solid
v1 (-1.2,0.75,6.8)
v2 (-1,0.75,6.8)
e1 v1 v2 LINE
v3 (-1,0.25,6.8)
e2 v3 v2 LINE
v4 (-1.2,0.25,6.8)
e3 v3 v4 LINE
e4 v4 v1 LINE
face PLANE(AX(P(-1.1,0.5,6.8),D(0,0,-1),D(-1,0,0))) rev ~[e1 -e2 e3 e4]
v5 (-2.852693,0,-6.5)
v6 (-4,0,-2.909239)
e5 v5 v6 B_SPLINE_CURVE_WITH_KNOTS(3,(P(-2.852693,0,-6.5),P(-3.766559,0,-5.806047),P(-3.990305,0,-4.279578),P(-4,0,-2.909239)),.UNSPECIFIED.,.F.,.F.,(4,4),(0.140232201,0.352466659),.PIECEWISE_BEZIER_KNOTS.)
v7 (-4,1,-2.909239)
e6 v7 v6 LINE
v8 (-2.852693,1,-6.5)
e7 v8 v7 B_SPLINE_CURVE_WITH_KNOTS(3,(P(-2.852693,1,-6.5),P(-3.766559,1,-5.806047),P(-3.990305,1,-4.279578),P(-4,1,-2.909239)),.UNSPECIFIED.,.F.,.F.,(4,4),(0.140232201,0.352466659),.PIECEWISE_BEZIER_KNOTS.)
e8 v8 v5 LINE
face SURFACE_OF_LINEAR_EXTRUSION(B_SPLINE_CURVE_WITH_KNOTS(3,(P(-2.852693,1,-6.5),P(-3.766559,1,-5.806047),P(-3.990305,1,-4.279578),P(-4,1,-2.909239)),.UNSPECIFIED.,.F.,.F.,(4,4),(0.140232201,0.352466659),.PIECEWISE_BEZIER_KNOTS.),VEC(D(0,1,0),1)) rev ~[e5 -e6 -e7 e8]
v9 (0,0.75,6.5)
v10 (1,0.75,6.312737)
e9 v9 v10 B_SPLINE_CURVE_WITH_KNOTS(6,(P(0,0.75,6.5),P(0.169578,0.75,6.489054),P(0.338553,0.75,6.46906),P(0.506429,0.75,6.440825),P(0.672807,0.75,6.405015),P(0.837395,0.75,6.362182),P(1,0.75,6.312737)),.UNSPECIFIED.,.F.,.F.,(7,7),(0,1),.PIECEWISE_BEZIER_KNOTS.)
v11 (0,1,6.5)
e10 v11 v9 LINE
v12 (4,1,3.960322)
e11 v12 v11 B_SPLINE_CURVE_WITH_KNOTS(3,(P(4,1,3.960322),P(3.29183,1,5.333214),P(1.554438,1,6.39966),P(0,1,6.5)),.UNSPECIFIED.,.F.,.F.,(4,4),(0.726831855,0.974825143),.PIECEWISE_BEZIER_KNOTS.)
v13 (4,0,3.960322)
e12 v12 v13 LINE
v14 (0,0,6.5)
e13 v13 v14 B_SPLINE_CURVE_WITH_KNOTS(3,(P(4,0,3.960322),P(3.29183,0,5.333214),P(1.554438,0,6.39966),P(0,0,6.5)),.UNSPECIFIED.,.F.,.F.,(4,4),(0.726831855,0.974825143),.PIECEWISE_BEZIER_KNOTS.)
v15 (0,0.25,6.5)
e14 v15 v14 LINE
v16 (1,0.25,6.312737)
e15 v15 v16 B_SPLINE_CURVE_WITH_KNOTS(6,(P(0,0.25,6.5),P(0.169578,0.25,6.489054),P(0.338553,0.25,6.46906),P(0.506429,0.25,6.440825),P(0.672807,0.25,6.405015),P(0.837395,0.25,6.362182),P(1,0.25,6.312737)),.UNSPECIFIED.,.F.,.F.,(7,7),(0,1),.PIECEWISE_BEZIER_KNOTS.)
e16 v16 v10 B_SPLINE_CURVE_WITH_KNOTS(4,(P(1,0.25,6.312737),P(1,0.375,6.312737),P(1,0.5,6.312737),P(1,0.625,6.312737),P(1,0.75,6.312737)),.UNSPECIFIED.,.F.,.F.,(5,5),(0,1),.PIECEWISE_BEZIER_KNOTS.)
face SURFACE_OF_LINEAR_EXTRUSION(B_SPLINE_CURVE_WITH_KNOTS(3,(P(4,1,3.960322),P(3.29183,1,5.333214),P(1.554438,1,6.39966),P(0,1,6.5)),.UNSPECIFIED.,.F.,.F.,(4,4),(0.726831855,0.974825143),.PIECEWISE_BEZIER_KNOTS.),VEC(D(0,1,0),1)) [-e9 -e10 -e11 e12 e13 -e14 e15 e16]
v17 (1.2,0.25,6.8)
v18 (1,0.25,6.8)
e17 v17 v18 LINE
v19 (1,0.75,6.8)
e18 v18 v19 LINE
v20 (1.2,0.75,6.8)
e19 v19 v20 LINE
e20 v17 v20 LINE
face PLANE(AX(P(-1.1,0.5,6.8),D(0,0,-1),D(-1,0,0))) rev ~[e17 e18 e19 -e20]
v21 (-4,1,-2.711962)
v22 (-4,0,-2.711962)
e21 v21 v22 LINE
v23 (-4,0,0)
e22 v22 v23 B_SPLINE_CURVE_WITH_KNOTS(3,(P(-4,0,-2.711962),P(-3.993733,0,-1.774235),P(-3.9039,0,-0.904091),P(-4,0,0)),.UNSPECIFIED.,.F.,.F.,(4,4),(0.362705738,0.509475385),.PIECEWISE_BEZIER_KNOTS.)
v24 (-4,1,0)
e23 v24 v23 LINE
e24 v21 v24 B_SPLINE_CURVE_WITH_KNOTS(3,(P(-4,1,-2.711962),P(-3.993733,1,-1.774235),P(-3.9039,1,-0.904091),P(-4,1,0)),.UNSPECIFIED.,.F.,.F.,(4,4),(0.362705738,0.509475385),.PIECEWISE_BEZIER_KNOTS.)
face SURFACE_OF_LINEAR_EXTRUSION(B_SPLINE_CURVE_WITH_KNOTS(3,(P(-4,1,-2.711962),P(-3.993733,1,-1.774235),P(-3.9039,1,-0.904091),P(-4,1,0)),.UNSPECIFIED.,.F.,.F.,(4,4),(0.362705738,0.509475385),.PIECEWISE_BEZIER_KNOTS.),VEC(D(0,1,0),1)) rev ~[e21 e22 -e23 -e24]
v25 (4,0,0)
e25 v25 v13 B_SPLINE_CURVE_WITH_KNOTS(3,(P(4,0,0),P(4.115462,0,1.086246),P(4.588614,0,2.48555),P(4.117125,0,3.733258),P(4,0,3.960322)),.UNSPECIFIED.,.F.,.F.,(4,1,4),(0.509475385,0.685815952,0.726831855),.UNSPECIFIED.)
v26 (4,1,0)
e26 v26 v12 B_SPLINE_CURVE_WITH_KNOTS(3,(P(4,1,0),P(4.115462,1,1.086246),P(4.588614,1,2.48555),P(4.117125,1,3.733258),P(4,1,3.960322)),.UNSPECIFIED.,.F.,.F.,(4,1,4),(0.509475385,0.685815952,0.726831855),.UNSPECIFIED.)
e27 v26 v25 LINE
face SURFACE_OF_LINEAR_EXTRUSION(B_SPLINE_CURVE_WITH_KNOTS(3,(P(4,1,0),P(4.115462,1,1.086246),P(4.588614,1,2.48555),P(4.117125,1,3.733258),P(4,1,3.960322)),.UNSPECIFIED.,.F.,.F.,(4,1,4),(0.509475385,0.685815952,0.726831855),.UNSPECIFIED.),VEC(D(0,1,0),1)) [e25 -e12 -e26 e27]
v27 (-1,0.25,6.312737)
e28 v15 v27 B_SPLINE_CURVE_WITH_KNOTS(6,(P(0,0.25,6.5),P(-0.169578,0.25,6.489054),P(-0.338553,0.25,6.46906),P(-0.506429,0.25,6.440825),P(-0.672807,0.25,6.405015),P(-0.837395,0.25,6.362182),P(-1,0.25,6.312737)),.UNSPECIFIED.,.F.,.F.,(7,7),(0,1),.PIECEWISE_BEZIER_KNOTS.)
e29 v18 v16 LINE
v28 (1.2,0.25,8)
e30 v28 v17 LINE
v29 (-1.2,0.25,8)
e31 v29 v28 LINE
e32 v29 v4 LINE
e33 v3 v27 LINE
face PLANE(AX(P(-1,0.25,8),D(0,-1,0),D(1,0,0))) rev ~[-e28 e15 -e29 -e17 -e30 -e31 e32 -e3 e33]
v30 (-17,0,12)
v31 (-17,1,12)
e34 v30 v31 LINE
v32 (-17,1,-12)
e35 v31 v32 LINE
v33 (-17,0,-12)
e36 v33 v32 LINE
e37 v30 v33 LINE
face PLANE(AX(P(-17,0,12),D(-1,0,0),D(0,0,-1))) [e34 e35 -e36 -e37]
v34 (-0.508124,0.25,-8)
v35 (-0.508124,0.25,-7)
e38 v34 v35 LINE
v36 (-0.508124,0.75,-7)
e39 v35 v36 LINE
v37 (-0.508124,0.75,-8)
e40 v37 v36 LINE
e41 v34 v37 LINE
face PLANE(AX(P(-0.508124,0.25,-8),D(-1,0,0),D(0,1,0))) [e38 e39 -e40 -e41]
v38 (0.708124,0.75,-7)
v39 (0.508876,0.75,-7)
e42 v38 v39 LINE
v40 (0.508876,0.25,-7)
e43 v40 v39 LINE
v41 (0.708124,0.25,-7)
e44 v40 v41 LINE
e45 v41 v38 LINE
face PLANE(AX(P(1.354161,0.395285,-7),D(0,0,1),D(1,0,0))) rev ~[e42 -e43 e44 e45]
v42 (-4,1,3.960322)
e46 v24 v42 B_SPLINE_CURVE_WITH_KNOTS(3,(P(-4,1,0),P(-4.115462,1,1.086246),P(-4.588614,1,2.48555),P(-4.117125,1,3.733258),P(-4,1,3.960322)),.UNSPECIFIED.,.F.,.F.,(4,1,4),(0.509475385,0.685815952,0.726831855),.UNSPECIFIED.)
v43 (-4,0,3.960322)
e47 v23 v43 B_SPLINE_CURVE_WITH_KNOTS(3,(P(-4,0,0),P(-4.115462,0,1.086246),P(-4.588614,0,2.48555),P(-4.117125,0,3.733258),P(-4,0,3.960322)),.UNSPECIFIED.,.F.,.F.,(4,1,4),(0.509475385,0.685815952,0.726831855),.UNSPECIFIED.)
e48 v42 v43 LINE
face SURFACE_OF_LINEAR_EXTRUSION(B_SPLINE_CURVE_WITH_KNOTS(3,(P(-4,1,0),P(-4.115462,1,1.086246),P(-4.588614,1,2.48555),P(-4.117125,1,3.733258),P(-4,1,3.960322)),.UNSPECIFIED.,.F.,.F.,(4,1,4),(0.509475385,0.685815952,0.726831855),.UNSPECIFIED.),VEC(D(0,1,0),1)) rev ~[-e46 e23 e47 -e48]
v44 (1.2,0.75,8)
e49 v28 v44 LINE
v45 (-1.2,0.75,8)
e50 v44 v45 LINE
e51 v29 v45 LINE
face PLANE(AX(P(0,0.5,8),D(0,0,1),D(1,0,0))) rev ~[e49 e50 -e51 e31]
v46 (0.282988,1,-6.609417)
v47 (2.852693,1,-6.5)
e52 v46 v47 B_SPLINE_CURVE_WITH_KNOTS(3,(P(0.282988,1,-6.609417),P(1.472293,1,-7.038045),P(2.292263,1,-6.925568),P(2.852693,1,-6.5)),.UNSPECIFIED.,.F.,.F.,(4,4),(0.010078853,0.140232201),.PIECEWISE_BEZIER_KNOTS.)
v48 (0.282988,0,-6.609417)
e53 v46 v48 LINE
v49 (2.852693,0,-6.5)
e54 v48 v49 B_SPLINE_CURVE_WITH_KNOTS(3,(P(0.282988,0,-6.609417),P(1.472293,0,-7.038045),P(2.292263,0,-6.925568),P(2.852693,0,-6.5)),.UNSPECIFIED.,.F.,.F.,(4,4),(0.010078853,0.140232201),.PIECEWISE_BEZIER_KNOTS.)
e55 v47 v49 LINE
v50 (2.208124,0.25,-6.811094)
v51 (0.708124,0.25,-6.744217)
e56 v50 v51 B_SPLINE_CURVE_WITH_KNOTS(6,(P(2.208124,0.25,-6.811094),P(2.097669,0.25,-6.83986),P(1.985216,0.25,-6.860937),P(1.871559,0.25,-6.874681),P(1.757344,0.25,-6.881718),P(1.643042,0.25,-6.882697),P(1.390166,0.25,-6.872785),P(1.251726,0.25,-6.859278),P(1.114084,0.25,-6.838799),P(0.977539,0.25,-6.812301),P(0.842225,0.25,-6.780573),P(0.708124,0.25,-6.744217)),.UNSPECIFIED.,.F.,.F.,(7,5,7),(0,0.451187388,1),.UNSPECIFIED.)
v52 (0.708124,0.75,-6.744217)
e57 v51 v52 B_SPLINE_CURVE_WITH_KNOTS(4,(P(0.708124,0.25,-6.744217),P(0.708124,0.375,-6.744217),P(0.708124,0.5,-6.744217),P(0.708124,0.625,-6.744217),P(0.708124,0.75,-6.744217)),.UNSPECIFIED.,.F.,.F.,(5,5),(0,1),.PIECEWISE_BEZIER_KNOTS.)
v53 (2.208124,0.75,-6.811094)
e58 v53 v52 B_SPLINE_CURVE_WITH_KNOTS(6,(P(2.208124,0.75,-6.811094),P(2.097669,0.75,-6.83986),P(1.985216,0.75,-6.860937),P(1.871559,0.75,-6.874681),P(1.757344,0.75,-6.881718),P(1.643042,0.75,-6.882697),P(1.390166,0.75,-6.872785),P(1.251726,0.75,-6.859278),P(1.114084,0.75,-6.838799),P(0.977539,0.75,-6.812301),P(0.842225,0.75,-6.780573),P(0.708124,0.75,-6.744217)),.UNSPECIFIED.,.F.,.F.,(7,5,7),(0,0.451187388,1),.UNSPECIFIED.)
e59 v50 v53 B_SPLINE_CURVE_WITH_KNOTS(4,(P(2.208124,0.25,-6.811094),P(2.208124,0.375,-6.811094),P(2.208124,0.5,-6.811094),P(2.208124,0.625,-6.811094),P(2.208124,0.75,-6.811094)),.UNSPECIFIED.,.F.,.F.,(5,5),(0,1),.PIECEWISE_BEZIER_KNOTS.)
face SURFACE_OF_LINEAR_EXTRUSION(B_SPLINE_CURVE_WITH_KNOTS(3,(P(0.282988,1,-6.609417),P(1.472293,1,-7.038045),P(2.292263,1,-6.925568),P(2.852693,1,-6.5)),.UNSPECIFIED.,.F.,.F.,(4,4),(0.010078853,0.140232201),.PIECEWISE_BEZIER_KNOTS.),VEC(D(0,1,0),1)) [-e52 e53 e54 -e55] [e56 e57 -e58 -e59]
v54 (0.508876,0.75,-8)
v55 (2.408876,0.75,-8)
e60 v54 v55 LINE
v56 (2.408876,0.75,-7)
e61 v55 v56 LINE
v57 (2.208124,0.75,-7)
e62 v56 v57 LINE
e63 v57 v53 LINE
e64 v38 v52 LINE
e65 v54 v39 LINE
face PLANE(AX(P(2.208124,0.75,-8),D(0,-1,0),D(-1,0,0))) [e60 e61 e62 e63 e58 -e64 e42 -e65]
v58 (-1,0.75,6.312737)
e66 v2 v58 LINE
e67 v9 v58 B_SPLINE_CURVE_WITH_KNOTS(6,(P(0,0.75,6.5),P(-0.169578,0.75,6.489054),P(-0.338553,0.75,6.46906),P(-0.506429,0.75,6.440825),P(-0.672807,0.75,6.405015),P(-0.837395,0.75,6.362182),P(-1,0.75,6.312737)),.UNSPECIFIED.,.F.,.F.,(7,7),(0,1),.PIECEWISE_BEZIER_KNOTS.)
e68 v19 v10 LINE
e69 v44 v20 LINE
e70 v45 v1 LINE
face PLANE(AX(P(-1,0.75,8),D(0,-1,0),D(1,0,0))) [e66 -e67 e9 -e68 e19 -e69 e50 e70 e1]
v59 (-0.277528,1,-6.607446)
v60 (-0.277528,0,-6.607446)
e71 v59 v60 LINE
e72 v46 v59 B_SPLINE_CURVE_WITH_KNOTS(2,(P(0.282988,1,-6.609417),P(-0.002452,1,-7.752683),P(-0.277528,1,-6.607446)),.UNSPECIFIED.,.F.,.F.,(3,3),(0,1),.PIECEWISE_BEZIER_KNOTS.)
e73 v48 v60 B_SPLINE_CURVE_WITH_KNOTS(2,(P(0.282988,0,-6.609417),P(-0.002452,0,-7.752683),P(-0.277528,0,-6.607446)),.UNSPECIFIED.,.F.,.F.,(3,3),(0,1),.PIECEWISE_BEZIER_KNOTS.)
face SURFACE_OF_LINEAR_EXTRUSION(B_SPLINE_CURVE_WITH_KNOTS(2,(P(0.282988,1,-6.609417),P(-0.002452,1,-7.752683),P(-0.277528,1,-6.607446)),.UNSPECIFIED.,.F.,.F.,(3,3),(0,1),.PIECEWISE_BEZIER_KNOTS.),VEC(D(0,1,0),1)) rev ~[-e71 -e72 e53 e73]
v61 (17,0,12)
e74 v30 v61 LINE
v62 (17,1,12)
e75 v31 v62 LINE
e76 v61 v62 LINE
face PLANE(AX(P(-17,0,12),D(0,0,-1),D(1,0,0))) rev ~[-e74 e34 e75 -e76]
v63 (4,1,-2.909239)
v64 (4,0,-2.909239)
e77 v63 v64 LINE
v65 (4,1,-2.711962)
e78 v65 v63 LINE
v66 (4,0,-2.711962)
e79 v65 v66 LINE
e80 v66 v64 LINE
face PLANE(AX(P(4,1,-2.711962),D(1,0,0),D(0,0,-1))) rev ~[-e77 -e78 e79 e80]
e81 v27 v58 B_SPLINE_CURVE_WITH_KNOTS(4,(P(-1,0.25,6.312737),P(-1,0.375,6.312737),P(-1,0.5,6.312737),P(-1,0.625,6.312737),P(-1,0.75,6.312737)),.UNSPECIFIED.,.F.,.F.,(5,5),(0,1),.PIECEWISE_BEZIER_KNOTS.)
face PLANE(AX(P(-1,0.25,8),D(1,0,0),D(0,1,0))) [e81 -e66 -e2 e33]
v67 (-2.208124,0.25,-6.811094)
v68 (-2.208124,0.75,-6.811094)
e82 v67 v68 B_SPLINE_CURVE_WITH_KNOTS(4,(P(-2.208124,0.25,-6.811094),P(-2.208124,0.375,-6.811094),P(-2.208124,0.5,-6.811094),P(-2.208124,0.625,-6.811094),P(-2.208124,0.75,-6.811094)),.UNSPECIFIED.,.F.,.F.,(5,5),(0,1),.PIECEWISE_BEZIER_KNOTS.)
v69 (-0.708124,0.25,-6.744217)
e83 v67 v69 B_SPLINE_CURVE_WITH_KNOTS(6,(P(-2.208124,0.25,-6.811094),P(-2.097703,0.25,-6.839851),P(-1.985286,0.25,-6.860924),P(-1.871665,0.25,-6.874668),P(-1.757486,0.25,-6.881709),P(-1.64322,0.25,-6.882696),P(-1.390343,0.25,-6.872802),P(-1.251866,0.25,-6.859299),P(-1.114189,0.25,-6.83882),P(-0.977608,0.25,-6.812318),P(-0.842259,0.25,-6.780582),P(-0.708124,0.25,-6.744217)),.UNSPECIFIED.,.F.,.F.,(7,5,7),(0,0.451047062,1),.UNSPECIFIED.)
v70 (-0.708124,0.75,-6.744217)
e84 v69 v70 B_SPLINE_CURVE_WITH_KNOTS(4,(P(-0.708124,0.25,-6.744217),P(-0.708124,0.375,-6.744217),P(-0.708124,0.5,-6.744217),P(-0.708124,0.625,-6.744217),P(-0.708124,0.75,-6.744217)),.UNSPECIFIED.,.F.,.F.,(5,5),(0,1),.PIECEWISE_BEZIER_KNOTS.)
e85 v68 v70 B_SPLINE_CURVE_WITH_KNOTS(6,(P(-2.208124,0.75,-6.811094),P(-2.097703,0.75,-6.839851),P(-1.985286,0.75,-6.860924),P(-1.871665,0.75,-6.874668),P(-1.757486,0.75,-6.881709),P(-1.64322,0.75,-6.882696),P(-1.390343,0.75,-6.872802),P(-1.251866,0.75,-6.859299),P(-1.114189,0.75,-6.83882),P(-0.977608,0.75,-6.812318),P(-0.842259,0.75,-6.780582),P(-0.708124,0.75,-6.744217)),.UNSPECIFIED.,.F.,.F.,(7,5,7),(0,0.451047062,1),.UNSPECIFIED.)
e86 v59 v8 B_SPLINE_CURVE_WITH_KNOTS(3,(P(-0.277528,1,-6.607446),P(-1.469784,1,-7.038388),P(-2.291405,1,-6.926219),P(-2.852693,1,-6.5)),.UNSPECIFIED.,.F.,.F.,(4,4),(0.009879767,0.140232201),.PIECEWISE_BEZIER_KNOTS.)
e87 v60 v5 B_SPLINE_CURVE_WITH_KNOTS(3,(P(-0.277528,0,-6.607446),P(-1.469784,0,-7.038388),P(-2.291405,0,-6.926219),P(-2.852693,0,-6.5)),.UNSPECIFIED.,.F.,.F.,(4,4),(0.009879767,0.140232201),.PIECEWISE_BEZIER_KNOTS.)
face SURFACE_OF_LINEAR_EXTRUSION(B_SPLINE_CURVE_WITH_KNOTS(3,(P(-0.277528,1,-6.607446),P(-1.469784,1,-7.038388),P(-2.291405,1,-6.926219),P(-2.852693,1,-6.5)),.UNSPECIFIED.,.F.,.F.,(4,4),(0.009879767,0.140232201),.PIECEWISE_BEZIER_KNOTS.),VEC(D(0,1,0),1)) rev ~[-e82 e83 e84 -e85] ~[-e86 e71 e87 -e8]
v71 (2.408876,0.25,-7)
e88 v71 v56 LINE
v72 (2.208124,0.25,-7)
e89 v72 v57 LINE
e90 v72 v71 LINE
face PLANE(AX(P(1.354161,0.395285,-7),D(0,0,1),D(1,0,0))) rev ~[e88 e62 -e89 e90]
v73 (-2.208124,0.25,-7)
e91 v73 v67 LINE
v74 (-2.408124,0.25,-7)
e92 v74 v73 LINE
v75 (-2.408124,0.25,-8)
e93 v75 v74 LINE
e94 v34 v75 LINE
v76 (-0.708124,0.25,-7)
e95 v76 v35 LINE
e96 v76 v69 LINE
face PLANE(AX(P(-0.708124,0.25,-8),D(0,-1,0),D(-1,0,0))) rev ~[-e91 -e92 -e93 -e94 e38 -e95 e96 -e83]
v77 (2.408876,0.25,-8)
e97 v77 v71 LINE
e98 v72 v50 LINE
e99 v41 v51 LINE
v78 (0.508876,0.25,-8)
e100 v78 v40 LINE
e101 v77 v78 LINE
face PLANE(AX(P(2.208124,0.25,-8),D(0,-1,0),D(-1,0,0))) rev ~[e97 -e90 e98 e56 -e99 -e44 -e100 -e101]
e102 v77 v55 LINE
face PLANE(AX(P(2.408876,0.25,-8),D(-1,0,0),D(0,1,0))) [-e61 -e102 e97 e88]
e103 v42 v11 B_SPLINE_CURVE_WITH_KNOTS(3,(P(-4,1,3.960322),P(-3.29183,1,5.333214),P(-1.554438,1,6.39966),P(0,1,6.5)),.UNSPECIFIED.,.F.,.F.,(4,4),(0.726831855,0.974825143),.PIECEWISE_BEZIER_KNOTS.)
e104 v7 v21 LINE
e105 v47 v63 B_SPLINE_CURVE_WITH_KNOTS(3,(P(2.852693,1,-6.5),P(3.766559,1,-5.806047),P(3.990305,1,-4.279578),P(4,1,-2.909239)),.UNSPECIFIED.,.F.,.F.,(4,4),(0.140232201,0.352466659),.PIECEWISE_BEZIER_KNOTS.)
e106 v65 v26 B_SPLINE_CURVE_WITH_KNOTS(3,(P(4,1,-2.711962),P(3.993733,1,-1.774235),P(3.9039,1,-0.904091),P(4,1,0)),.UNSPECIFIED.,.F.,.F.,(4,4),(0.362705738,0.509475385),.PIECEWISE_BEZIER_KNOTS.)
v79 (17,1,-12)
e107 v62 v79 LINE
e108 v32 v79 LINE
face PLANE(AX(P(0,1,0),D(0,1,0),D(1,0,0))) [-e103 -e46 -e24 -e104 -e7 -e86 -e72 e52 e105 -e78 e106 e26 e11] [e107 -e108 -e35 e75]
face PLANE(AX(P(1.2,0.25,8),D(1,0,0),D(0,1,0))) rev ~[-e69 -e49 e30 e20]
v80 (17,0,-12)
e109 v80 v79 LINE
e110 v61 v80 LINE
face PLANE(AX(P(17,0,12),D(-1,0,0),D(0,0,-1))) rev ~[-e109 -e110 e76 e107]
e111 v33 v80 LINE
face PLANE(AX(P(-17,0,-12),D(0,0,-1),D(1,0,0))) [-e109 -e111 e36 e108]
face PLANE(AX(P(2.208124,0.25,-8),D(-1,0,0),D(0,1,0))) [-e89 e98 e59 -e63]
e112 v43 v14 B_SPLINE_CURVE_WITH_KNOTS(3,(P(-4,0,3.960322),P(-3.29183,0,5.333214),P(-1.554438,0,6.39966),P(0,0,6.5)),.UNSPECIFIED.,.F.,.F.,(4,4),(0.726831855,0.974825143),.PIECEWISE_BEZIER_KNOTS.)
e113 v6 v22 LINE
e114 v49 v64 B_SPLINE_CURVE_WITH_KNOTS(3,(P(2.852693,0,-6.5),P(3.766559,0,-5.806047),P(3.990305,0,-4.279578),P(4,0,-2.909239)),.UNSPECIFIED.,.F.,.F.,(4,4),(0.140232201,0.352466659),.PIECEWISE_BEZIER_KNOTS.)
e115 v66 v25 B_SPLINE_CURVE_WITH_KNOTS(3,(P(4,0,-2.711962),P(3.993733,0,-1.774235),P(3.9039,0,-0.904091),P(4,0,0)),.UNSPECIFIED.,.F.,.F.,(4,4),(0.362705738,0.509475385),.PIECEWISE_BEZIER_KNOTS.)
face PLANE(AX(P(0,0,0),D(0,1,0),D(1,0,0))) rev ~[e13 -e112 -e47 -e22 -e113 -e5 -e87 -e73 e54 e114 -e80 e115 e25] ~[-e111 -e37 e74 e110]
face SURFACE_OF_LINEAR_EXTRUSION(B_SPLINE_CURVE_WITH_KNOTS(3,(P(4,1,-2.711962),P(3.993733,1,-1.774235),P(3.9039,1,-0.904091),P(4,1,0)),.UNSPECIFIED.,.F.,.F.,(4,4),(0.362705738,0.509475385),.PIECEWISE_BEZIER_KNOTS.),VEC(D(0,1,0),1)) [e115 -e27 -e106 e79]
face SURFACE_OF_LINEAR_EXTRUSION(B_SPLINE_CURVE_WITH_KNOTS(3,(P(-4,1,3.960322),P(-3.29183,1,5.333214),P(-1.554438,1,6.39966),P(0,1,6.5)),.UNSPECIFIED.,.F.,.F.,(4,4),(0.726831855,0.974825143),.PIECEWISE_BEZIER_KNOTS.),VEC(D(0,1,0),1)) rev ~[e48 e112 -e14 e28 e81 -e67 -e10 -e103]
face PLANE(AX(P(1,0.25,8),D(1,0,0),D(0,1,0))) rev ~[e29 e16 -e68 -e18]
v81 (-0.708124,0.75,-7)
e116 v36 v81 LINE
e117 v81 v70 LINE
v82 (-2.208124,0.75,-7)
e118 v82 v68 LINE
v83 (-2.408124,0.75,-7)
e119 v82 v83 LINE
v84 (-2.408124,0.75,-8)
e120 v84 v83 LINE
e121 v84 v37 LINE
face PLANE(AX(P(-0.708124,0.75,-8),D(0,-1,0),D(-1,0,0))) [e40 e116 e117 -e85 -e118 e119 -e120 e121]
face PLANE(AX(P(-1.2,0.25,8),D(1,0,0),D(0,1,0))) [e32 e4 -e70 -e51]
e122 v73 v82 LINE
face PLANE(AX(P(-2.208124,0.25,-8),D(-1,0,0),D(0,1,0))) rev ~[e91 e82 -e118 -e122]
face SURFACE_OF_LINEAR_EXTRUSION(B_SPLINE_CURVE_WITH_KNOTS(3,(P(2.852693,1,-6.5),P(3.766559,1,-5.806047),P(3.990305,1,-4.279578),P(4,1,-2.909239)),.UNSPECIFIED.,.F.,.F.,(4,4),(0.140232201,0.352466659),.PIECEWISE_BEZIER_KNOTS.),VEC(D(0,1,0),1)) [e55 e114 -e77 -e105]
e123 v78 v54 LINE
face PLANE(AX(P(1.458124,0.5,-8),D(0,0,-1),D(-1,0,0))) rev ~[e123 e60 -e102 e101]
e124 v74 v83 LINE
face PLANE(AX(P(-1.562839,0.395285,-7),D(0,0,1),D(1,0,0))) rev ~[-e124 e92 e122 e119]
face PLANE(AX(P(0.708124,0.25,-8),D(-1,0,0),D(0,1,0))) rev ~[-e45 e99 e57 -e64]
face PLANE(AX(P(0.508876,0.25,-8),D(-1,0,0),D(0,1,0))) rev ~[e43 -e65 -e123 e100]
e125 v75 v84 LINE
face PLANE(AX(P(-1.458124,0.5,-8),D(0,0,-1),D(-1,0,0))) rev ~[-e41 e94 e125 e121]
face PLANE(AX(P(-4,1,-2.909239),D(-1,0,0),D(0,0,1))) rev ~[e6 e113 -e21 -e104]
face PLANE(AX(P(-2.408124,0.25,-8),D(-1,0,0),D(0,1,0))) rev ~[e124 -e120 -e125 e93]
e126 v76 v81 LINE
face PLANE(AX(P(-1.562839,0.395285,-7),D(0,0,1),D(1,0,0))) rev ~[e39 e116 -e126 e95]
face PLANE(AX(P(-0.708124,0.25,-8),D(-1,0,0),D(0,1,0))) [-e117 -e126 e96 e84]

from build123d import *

# Parameters (mm, degrees)
SKETCH_2_W             = 34
SKETCH_2_H             = 24
EXTRUDE_1_DEPTH        = 1
CUT_EXTRUDE_2_DEPTH    = 1
SKETCH_4_W             = 2
SKETCH_4_H             = 0.5
CUT_EXTRUDE_3_DEPTH    = 3
SKETCH_5_W             = 1.5
SKETCH_5_H             = 0.5
CUT_EXTRUDE_4_DEPTH    = 3
SKETCH_6_W             = 0.2
SKETCH_6_H             = 0.5
CUT_EXTRUDE_6_DEPTH    = 1.2
SKETCH_7_W             = 0.2
SKETCH_7_H             = 0.5
CUT_EXTRUDE_7_DEPTH    = 1
PATTERN_LINEAR_1_COUNT = 2
PATTERN_LINEAR_1_PITCH = 2.917


with BuildPart() as part:
    # 草图2 → 凸台-拉伸1 (new body)
    with BuildSketch(Plane(origin=(0, 0, 0), x_dir=(1, 0, 0), z_dir=(0, 1, 0))):
        Rectangle(SKETCH_2_W, SKETCH_2_H)
    extrude(amount=EXTRUDE_1_DEPTH)

    # 草图3 → 切除-拉伸2 (cut)
    with BuildSketch(Plane(origin=(0, 1, 0), x_dir=(1, 0, 0), z_dir=(0, 1, 0))):
        with BuildLine():
            Line((2.852693105, 6.5), (0, 6.5))
            Line((0, 6.5), (0, -6.5))
            add(Edge.make_bspline(
                [(4, -3.960322269), (3.291830105, -5.33321398), (1.554438327, -6.399660403), (0, -6.5)],
                knots=[0.726831855, 0.726831855, 0.726831855, 0.726831855, 0.974825143, 0.974825143, 0.974825143, 0.974825143], degree=3))
            Line((4, -3.960322269), (4, 0))
            add(Edge.make_bspline(
                [(4, 2.711962076), (3.993732983, 1.774234816), (3.903899915, 0.904091061), (4, 0)],
                knots=[0.362705738, 0.362705738, 0.362705738, 0.362705738, 0.509475385, 0.509475385, 0.509475385, 0.509475385], degree=3))
            Line((4, 2.711962076), (4, 2.909239089))
            add(Edge.make_bspline(
                [(2.852693105, 6.5), (3.766558676, 5.806047297), (3.99030544, 4.279578326), (4, 2.909239089)],
                knots=[0.140232201, 0.140232201, 0.140232201, 0.140232201, 0.352466659, 0.352466659, 0.352466659, 0.352466659], degree=3))
        make_face()
        with BuildLine():
            Line((0, -6.5), (0, 6.5))
            Line((0, 6.5), (-2.852693105, 6.5))
            add(Edge.make_bspline(
                [(-2.852693105, 6.5), (-3.766558676, 5.806047297), (-3.99030544, 4.279578326), (-4, 2.909239089)],
                knots=[0.140232201, 0.140232201, 0.140232201, 0.140232201, 0.352466659, 0.352466659, 0.352466659, 0.352466659], degree=3))
            Line((-4, 2.909239089), (-4, 2.711962076))
            add(Edge.make_bspline(
                [(-4, 2.711962076), (-3.993732983, 1.774234816), (-3.903899915, 0.904091061), (-4, 0)],
                knots=[0.362705738, 0.362705738, 0.362705738, 0.362705738, 0.509475385, 0.509475385, 0.509475385, 0.509475385], degree=3))
            Line((-4, 0), (-4, -3.960322269))
            add(Edge.make_bspline(
                [(-4, -3.960322269), (-3.291830105, -5.33321398), (-1.554438327, -6.399660403), (0, -6.5)],
                knots=[0.726831855, 0.726831855, 0.726831855, 0.726831855, 0.974825143, 0.974825143, 0.974825143, 0.974825143], degree=3))
        make_face()
        with BuildLine():
            add(Edge.make_bspline(
                [(0, 6.5), (0.096578276, 6.539787769), (0.190890779, 6.57622482), (0.282988495, 6.609417035)],
                knots=[0, 0, 0, 0, 0.010078853, 0.010078853, 0.010078853, 0.010078853], degree=3))
            Line((0, 6.5), (2.852693105, 6.5))
            add(Edge.make_bspline(
                [(0.282988495, 6.609417035), (1.47229303, 7.038044945), (2.292262606, 6.925568347), (2.852693105, 6.5)],
                knots=[0.010078853, 0.010078853, 0.010078853, 0.010078853, 0.140232201, 0.140232201, 0.140232201, 0.140232201], degree=3))
        make_face()
        with BuildLine():
            Line((-2.852693105, 6.5), (0, 6.5))
            add(Edge.make_bspline(
                [(0, 6.5), (-0.094670577, 6.539001846), (-0.187164009, 6.574784039), (-0.277528318, 6.60744631)],
                knots=[0, 0, 0, 0, 0.009879767, 0.009879767, 0.009879767, 0.009879767], degree=3))
            add(Edge.make_bspline(
                [(-0.277528318, 6.60744631), (-1.469783924, 7.038388308), (-2.291405355, 6.926219308), (-2.852693105, 6.5)],
                knots=[0.009879767, 0.009879767, 0.009879767, 0.009879767, 0.140232201, 0.140232201, 0.140232201, 0.140232201], degree=3))
        make_face()
        with BuildLine():
            add(Edge.make_bspline(
                [(0, 6.5), (-0.094670577, 6.539001846), (-0.187164009, 6.574784039), (-0.277528318, 6.60744631)],
                knots=[0, 0, 0, 0, 0.009879767, 0.009879767, 0.009879767, 0.009879767], degree=3))
            add(Edge.make_bspline(
                [(0, 6.5), (0.096578276, 6.539787769), (0.190890779, 6.57622482), (0.282988495, 6.609417035)],
                knots=[0, 0, 0, 0, 0.010078853, 0.010078853, 0.010078853, 0.010078853], degree=3))
            add(Edge.make_bspline(
                [(0.282988495, 6.609417035), (-0.002451987, 7.75268333), (-0.277528318, 6.60744631)],
                knots=[0, 0, 0, 1, 1, 1], degree=2))
        make_face()
        with BuildLine():
            add(Edge.make_bspline(
                [(-4, 0), (-4.115462181, -1.086245927), (-4.588613513, -2.485549912), (-4.117125058, -3.733258083), (-4, -3.960322269)],
                knots=[0.509475385, 0.509475385, 0.509475385, 0.509475385, 0.685815952, 0.726831855, 0.726831855, 0.726831855, 0.726831855], degree=3))
            Line((-4, -3.960322269), (-4, 0))
        make_face()
        with BuildLine():
            Line((4, 0), (4, -3.960322269))
            add(Edge.make_bspline(
                [(4, 0), (4.115462181, -1.086245927), (4.588613513, -2.485549912), (4.117125058, -3.733258083), (4, -3.960322269)],
                knots=[0.509475385, 0.509475385, 0.509475385, 0.509475385, 0.685815952, 0.726831855, 0.726831855, 0.726831855, 0.726831855], degree=3))
        make_face()
    extrude(amount=-CUT_EXTRUDE_2_DEPTH, mode=Mode.SUBTRACT)

    # 草图4 → 切除-拉伸3 (cut)
    with BuildSketch(Plane.XY.offset(8)):
        with Locations((0, 0.5)):
            Rectangle(SKETCH_4_W, SKETCH_4_H)
    extrude(amount=-CUT_EXTRUDE_3_DEPTH, mode=Mode.SUBTRACT)

    # 草图5 → 切除-拉伸4 (cut)
    with BuildSketch(Plane(origin=(0, 0, -8), x_dir=(-1, 0, 0), z_dir=(0, 0, -1))):
        with Locations((1.458123879, 0.5)):
            Rectangle(SKETCH_5_W, SKETCH_5_H)
        with Locations((-1.458123879, 0.5)):
            Rectangle(SKETCH_5_W, SKETCH_5_H)
    extrude(amount=-CUT_EXTRUDE_4_DEPTH, mode=Mode.SUBTRACT)

    # 草图6 → 切除-拉伸6 (cut)
    with BuildSketch(Plane(origin=(0, 0, 8), x_dir=(-1, 0, 0), z_dir=(0, 0, -1))):
        with Locations((1.1, 0.5)):
            Rectangle(SKETCH_6_W, SKETCH_6_H)
        Polygon((1, 0.75), (-1, 0.25), (1, 0.25), align=None)
        Polygon((1, 0.75), (-1, 0.25), (-1, 0.75), align=None)
        with Locations((-1.1, 0.5)):
            Rectangle(SKETCH_6_W, SKETCH_6_H)
    extrude(amount=CUT_EXTRUDE_6_DEPTH, mode=Mode.SUBTRACT)

    # 草图7 → 切除-拉伸7 (cut)
    with BuildSketch(Plane.XY.offset(-8)):
        Polygon((-0.708123879, 0.25), (-2.208123879, 0.75), (-2.208123879, 0.25), align=None)
        with Locations((-2.308123879, 0.5)):
            Rectangle(SKETCH_7_W, SKETCH_7_H)
        Polygon((-0.708123879, 0.25), (-2.208123879, 0.75), (-0.708123879, 0.75), align=None)
        with Locations((-0.608123879, 0.5)):
            Rectangle(SKETCH_7_W, SKETCH_7_H)
    cut_extrude_7 = extrude(amount=CUT_EXTRUDE_7_DEPTH, mode=Mode.SUBTRACT)

    # 阵列(线性)1: 切除-拉伸7 ×2
    with Locations(*[(i * PATTERN_LINEAR_1_PITCH, 0, 0) for i in range(1, PATTERN_LINEAR_1_COUNT)]):
        add(cut_extrude_7, mode=Mode.SUBTRACT)


solid = part.part
